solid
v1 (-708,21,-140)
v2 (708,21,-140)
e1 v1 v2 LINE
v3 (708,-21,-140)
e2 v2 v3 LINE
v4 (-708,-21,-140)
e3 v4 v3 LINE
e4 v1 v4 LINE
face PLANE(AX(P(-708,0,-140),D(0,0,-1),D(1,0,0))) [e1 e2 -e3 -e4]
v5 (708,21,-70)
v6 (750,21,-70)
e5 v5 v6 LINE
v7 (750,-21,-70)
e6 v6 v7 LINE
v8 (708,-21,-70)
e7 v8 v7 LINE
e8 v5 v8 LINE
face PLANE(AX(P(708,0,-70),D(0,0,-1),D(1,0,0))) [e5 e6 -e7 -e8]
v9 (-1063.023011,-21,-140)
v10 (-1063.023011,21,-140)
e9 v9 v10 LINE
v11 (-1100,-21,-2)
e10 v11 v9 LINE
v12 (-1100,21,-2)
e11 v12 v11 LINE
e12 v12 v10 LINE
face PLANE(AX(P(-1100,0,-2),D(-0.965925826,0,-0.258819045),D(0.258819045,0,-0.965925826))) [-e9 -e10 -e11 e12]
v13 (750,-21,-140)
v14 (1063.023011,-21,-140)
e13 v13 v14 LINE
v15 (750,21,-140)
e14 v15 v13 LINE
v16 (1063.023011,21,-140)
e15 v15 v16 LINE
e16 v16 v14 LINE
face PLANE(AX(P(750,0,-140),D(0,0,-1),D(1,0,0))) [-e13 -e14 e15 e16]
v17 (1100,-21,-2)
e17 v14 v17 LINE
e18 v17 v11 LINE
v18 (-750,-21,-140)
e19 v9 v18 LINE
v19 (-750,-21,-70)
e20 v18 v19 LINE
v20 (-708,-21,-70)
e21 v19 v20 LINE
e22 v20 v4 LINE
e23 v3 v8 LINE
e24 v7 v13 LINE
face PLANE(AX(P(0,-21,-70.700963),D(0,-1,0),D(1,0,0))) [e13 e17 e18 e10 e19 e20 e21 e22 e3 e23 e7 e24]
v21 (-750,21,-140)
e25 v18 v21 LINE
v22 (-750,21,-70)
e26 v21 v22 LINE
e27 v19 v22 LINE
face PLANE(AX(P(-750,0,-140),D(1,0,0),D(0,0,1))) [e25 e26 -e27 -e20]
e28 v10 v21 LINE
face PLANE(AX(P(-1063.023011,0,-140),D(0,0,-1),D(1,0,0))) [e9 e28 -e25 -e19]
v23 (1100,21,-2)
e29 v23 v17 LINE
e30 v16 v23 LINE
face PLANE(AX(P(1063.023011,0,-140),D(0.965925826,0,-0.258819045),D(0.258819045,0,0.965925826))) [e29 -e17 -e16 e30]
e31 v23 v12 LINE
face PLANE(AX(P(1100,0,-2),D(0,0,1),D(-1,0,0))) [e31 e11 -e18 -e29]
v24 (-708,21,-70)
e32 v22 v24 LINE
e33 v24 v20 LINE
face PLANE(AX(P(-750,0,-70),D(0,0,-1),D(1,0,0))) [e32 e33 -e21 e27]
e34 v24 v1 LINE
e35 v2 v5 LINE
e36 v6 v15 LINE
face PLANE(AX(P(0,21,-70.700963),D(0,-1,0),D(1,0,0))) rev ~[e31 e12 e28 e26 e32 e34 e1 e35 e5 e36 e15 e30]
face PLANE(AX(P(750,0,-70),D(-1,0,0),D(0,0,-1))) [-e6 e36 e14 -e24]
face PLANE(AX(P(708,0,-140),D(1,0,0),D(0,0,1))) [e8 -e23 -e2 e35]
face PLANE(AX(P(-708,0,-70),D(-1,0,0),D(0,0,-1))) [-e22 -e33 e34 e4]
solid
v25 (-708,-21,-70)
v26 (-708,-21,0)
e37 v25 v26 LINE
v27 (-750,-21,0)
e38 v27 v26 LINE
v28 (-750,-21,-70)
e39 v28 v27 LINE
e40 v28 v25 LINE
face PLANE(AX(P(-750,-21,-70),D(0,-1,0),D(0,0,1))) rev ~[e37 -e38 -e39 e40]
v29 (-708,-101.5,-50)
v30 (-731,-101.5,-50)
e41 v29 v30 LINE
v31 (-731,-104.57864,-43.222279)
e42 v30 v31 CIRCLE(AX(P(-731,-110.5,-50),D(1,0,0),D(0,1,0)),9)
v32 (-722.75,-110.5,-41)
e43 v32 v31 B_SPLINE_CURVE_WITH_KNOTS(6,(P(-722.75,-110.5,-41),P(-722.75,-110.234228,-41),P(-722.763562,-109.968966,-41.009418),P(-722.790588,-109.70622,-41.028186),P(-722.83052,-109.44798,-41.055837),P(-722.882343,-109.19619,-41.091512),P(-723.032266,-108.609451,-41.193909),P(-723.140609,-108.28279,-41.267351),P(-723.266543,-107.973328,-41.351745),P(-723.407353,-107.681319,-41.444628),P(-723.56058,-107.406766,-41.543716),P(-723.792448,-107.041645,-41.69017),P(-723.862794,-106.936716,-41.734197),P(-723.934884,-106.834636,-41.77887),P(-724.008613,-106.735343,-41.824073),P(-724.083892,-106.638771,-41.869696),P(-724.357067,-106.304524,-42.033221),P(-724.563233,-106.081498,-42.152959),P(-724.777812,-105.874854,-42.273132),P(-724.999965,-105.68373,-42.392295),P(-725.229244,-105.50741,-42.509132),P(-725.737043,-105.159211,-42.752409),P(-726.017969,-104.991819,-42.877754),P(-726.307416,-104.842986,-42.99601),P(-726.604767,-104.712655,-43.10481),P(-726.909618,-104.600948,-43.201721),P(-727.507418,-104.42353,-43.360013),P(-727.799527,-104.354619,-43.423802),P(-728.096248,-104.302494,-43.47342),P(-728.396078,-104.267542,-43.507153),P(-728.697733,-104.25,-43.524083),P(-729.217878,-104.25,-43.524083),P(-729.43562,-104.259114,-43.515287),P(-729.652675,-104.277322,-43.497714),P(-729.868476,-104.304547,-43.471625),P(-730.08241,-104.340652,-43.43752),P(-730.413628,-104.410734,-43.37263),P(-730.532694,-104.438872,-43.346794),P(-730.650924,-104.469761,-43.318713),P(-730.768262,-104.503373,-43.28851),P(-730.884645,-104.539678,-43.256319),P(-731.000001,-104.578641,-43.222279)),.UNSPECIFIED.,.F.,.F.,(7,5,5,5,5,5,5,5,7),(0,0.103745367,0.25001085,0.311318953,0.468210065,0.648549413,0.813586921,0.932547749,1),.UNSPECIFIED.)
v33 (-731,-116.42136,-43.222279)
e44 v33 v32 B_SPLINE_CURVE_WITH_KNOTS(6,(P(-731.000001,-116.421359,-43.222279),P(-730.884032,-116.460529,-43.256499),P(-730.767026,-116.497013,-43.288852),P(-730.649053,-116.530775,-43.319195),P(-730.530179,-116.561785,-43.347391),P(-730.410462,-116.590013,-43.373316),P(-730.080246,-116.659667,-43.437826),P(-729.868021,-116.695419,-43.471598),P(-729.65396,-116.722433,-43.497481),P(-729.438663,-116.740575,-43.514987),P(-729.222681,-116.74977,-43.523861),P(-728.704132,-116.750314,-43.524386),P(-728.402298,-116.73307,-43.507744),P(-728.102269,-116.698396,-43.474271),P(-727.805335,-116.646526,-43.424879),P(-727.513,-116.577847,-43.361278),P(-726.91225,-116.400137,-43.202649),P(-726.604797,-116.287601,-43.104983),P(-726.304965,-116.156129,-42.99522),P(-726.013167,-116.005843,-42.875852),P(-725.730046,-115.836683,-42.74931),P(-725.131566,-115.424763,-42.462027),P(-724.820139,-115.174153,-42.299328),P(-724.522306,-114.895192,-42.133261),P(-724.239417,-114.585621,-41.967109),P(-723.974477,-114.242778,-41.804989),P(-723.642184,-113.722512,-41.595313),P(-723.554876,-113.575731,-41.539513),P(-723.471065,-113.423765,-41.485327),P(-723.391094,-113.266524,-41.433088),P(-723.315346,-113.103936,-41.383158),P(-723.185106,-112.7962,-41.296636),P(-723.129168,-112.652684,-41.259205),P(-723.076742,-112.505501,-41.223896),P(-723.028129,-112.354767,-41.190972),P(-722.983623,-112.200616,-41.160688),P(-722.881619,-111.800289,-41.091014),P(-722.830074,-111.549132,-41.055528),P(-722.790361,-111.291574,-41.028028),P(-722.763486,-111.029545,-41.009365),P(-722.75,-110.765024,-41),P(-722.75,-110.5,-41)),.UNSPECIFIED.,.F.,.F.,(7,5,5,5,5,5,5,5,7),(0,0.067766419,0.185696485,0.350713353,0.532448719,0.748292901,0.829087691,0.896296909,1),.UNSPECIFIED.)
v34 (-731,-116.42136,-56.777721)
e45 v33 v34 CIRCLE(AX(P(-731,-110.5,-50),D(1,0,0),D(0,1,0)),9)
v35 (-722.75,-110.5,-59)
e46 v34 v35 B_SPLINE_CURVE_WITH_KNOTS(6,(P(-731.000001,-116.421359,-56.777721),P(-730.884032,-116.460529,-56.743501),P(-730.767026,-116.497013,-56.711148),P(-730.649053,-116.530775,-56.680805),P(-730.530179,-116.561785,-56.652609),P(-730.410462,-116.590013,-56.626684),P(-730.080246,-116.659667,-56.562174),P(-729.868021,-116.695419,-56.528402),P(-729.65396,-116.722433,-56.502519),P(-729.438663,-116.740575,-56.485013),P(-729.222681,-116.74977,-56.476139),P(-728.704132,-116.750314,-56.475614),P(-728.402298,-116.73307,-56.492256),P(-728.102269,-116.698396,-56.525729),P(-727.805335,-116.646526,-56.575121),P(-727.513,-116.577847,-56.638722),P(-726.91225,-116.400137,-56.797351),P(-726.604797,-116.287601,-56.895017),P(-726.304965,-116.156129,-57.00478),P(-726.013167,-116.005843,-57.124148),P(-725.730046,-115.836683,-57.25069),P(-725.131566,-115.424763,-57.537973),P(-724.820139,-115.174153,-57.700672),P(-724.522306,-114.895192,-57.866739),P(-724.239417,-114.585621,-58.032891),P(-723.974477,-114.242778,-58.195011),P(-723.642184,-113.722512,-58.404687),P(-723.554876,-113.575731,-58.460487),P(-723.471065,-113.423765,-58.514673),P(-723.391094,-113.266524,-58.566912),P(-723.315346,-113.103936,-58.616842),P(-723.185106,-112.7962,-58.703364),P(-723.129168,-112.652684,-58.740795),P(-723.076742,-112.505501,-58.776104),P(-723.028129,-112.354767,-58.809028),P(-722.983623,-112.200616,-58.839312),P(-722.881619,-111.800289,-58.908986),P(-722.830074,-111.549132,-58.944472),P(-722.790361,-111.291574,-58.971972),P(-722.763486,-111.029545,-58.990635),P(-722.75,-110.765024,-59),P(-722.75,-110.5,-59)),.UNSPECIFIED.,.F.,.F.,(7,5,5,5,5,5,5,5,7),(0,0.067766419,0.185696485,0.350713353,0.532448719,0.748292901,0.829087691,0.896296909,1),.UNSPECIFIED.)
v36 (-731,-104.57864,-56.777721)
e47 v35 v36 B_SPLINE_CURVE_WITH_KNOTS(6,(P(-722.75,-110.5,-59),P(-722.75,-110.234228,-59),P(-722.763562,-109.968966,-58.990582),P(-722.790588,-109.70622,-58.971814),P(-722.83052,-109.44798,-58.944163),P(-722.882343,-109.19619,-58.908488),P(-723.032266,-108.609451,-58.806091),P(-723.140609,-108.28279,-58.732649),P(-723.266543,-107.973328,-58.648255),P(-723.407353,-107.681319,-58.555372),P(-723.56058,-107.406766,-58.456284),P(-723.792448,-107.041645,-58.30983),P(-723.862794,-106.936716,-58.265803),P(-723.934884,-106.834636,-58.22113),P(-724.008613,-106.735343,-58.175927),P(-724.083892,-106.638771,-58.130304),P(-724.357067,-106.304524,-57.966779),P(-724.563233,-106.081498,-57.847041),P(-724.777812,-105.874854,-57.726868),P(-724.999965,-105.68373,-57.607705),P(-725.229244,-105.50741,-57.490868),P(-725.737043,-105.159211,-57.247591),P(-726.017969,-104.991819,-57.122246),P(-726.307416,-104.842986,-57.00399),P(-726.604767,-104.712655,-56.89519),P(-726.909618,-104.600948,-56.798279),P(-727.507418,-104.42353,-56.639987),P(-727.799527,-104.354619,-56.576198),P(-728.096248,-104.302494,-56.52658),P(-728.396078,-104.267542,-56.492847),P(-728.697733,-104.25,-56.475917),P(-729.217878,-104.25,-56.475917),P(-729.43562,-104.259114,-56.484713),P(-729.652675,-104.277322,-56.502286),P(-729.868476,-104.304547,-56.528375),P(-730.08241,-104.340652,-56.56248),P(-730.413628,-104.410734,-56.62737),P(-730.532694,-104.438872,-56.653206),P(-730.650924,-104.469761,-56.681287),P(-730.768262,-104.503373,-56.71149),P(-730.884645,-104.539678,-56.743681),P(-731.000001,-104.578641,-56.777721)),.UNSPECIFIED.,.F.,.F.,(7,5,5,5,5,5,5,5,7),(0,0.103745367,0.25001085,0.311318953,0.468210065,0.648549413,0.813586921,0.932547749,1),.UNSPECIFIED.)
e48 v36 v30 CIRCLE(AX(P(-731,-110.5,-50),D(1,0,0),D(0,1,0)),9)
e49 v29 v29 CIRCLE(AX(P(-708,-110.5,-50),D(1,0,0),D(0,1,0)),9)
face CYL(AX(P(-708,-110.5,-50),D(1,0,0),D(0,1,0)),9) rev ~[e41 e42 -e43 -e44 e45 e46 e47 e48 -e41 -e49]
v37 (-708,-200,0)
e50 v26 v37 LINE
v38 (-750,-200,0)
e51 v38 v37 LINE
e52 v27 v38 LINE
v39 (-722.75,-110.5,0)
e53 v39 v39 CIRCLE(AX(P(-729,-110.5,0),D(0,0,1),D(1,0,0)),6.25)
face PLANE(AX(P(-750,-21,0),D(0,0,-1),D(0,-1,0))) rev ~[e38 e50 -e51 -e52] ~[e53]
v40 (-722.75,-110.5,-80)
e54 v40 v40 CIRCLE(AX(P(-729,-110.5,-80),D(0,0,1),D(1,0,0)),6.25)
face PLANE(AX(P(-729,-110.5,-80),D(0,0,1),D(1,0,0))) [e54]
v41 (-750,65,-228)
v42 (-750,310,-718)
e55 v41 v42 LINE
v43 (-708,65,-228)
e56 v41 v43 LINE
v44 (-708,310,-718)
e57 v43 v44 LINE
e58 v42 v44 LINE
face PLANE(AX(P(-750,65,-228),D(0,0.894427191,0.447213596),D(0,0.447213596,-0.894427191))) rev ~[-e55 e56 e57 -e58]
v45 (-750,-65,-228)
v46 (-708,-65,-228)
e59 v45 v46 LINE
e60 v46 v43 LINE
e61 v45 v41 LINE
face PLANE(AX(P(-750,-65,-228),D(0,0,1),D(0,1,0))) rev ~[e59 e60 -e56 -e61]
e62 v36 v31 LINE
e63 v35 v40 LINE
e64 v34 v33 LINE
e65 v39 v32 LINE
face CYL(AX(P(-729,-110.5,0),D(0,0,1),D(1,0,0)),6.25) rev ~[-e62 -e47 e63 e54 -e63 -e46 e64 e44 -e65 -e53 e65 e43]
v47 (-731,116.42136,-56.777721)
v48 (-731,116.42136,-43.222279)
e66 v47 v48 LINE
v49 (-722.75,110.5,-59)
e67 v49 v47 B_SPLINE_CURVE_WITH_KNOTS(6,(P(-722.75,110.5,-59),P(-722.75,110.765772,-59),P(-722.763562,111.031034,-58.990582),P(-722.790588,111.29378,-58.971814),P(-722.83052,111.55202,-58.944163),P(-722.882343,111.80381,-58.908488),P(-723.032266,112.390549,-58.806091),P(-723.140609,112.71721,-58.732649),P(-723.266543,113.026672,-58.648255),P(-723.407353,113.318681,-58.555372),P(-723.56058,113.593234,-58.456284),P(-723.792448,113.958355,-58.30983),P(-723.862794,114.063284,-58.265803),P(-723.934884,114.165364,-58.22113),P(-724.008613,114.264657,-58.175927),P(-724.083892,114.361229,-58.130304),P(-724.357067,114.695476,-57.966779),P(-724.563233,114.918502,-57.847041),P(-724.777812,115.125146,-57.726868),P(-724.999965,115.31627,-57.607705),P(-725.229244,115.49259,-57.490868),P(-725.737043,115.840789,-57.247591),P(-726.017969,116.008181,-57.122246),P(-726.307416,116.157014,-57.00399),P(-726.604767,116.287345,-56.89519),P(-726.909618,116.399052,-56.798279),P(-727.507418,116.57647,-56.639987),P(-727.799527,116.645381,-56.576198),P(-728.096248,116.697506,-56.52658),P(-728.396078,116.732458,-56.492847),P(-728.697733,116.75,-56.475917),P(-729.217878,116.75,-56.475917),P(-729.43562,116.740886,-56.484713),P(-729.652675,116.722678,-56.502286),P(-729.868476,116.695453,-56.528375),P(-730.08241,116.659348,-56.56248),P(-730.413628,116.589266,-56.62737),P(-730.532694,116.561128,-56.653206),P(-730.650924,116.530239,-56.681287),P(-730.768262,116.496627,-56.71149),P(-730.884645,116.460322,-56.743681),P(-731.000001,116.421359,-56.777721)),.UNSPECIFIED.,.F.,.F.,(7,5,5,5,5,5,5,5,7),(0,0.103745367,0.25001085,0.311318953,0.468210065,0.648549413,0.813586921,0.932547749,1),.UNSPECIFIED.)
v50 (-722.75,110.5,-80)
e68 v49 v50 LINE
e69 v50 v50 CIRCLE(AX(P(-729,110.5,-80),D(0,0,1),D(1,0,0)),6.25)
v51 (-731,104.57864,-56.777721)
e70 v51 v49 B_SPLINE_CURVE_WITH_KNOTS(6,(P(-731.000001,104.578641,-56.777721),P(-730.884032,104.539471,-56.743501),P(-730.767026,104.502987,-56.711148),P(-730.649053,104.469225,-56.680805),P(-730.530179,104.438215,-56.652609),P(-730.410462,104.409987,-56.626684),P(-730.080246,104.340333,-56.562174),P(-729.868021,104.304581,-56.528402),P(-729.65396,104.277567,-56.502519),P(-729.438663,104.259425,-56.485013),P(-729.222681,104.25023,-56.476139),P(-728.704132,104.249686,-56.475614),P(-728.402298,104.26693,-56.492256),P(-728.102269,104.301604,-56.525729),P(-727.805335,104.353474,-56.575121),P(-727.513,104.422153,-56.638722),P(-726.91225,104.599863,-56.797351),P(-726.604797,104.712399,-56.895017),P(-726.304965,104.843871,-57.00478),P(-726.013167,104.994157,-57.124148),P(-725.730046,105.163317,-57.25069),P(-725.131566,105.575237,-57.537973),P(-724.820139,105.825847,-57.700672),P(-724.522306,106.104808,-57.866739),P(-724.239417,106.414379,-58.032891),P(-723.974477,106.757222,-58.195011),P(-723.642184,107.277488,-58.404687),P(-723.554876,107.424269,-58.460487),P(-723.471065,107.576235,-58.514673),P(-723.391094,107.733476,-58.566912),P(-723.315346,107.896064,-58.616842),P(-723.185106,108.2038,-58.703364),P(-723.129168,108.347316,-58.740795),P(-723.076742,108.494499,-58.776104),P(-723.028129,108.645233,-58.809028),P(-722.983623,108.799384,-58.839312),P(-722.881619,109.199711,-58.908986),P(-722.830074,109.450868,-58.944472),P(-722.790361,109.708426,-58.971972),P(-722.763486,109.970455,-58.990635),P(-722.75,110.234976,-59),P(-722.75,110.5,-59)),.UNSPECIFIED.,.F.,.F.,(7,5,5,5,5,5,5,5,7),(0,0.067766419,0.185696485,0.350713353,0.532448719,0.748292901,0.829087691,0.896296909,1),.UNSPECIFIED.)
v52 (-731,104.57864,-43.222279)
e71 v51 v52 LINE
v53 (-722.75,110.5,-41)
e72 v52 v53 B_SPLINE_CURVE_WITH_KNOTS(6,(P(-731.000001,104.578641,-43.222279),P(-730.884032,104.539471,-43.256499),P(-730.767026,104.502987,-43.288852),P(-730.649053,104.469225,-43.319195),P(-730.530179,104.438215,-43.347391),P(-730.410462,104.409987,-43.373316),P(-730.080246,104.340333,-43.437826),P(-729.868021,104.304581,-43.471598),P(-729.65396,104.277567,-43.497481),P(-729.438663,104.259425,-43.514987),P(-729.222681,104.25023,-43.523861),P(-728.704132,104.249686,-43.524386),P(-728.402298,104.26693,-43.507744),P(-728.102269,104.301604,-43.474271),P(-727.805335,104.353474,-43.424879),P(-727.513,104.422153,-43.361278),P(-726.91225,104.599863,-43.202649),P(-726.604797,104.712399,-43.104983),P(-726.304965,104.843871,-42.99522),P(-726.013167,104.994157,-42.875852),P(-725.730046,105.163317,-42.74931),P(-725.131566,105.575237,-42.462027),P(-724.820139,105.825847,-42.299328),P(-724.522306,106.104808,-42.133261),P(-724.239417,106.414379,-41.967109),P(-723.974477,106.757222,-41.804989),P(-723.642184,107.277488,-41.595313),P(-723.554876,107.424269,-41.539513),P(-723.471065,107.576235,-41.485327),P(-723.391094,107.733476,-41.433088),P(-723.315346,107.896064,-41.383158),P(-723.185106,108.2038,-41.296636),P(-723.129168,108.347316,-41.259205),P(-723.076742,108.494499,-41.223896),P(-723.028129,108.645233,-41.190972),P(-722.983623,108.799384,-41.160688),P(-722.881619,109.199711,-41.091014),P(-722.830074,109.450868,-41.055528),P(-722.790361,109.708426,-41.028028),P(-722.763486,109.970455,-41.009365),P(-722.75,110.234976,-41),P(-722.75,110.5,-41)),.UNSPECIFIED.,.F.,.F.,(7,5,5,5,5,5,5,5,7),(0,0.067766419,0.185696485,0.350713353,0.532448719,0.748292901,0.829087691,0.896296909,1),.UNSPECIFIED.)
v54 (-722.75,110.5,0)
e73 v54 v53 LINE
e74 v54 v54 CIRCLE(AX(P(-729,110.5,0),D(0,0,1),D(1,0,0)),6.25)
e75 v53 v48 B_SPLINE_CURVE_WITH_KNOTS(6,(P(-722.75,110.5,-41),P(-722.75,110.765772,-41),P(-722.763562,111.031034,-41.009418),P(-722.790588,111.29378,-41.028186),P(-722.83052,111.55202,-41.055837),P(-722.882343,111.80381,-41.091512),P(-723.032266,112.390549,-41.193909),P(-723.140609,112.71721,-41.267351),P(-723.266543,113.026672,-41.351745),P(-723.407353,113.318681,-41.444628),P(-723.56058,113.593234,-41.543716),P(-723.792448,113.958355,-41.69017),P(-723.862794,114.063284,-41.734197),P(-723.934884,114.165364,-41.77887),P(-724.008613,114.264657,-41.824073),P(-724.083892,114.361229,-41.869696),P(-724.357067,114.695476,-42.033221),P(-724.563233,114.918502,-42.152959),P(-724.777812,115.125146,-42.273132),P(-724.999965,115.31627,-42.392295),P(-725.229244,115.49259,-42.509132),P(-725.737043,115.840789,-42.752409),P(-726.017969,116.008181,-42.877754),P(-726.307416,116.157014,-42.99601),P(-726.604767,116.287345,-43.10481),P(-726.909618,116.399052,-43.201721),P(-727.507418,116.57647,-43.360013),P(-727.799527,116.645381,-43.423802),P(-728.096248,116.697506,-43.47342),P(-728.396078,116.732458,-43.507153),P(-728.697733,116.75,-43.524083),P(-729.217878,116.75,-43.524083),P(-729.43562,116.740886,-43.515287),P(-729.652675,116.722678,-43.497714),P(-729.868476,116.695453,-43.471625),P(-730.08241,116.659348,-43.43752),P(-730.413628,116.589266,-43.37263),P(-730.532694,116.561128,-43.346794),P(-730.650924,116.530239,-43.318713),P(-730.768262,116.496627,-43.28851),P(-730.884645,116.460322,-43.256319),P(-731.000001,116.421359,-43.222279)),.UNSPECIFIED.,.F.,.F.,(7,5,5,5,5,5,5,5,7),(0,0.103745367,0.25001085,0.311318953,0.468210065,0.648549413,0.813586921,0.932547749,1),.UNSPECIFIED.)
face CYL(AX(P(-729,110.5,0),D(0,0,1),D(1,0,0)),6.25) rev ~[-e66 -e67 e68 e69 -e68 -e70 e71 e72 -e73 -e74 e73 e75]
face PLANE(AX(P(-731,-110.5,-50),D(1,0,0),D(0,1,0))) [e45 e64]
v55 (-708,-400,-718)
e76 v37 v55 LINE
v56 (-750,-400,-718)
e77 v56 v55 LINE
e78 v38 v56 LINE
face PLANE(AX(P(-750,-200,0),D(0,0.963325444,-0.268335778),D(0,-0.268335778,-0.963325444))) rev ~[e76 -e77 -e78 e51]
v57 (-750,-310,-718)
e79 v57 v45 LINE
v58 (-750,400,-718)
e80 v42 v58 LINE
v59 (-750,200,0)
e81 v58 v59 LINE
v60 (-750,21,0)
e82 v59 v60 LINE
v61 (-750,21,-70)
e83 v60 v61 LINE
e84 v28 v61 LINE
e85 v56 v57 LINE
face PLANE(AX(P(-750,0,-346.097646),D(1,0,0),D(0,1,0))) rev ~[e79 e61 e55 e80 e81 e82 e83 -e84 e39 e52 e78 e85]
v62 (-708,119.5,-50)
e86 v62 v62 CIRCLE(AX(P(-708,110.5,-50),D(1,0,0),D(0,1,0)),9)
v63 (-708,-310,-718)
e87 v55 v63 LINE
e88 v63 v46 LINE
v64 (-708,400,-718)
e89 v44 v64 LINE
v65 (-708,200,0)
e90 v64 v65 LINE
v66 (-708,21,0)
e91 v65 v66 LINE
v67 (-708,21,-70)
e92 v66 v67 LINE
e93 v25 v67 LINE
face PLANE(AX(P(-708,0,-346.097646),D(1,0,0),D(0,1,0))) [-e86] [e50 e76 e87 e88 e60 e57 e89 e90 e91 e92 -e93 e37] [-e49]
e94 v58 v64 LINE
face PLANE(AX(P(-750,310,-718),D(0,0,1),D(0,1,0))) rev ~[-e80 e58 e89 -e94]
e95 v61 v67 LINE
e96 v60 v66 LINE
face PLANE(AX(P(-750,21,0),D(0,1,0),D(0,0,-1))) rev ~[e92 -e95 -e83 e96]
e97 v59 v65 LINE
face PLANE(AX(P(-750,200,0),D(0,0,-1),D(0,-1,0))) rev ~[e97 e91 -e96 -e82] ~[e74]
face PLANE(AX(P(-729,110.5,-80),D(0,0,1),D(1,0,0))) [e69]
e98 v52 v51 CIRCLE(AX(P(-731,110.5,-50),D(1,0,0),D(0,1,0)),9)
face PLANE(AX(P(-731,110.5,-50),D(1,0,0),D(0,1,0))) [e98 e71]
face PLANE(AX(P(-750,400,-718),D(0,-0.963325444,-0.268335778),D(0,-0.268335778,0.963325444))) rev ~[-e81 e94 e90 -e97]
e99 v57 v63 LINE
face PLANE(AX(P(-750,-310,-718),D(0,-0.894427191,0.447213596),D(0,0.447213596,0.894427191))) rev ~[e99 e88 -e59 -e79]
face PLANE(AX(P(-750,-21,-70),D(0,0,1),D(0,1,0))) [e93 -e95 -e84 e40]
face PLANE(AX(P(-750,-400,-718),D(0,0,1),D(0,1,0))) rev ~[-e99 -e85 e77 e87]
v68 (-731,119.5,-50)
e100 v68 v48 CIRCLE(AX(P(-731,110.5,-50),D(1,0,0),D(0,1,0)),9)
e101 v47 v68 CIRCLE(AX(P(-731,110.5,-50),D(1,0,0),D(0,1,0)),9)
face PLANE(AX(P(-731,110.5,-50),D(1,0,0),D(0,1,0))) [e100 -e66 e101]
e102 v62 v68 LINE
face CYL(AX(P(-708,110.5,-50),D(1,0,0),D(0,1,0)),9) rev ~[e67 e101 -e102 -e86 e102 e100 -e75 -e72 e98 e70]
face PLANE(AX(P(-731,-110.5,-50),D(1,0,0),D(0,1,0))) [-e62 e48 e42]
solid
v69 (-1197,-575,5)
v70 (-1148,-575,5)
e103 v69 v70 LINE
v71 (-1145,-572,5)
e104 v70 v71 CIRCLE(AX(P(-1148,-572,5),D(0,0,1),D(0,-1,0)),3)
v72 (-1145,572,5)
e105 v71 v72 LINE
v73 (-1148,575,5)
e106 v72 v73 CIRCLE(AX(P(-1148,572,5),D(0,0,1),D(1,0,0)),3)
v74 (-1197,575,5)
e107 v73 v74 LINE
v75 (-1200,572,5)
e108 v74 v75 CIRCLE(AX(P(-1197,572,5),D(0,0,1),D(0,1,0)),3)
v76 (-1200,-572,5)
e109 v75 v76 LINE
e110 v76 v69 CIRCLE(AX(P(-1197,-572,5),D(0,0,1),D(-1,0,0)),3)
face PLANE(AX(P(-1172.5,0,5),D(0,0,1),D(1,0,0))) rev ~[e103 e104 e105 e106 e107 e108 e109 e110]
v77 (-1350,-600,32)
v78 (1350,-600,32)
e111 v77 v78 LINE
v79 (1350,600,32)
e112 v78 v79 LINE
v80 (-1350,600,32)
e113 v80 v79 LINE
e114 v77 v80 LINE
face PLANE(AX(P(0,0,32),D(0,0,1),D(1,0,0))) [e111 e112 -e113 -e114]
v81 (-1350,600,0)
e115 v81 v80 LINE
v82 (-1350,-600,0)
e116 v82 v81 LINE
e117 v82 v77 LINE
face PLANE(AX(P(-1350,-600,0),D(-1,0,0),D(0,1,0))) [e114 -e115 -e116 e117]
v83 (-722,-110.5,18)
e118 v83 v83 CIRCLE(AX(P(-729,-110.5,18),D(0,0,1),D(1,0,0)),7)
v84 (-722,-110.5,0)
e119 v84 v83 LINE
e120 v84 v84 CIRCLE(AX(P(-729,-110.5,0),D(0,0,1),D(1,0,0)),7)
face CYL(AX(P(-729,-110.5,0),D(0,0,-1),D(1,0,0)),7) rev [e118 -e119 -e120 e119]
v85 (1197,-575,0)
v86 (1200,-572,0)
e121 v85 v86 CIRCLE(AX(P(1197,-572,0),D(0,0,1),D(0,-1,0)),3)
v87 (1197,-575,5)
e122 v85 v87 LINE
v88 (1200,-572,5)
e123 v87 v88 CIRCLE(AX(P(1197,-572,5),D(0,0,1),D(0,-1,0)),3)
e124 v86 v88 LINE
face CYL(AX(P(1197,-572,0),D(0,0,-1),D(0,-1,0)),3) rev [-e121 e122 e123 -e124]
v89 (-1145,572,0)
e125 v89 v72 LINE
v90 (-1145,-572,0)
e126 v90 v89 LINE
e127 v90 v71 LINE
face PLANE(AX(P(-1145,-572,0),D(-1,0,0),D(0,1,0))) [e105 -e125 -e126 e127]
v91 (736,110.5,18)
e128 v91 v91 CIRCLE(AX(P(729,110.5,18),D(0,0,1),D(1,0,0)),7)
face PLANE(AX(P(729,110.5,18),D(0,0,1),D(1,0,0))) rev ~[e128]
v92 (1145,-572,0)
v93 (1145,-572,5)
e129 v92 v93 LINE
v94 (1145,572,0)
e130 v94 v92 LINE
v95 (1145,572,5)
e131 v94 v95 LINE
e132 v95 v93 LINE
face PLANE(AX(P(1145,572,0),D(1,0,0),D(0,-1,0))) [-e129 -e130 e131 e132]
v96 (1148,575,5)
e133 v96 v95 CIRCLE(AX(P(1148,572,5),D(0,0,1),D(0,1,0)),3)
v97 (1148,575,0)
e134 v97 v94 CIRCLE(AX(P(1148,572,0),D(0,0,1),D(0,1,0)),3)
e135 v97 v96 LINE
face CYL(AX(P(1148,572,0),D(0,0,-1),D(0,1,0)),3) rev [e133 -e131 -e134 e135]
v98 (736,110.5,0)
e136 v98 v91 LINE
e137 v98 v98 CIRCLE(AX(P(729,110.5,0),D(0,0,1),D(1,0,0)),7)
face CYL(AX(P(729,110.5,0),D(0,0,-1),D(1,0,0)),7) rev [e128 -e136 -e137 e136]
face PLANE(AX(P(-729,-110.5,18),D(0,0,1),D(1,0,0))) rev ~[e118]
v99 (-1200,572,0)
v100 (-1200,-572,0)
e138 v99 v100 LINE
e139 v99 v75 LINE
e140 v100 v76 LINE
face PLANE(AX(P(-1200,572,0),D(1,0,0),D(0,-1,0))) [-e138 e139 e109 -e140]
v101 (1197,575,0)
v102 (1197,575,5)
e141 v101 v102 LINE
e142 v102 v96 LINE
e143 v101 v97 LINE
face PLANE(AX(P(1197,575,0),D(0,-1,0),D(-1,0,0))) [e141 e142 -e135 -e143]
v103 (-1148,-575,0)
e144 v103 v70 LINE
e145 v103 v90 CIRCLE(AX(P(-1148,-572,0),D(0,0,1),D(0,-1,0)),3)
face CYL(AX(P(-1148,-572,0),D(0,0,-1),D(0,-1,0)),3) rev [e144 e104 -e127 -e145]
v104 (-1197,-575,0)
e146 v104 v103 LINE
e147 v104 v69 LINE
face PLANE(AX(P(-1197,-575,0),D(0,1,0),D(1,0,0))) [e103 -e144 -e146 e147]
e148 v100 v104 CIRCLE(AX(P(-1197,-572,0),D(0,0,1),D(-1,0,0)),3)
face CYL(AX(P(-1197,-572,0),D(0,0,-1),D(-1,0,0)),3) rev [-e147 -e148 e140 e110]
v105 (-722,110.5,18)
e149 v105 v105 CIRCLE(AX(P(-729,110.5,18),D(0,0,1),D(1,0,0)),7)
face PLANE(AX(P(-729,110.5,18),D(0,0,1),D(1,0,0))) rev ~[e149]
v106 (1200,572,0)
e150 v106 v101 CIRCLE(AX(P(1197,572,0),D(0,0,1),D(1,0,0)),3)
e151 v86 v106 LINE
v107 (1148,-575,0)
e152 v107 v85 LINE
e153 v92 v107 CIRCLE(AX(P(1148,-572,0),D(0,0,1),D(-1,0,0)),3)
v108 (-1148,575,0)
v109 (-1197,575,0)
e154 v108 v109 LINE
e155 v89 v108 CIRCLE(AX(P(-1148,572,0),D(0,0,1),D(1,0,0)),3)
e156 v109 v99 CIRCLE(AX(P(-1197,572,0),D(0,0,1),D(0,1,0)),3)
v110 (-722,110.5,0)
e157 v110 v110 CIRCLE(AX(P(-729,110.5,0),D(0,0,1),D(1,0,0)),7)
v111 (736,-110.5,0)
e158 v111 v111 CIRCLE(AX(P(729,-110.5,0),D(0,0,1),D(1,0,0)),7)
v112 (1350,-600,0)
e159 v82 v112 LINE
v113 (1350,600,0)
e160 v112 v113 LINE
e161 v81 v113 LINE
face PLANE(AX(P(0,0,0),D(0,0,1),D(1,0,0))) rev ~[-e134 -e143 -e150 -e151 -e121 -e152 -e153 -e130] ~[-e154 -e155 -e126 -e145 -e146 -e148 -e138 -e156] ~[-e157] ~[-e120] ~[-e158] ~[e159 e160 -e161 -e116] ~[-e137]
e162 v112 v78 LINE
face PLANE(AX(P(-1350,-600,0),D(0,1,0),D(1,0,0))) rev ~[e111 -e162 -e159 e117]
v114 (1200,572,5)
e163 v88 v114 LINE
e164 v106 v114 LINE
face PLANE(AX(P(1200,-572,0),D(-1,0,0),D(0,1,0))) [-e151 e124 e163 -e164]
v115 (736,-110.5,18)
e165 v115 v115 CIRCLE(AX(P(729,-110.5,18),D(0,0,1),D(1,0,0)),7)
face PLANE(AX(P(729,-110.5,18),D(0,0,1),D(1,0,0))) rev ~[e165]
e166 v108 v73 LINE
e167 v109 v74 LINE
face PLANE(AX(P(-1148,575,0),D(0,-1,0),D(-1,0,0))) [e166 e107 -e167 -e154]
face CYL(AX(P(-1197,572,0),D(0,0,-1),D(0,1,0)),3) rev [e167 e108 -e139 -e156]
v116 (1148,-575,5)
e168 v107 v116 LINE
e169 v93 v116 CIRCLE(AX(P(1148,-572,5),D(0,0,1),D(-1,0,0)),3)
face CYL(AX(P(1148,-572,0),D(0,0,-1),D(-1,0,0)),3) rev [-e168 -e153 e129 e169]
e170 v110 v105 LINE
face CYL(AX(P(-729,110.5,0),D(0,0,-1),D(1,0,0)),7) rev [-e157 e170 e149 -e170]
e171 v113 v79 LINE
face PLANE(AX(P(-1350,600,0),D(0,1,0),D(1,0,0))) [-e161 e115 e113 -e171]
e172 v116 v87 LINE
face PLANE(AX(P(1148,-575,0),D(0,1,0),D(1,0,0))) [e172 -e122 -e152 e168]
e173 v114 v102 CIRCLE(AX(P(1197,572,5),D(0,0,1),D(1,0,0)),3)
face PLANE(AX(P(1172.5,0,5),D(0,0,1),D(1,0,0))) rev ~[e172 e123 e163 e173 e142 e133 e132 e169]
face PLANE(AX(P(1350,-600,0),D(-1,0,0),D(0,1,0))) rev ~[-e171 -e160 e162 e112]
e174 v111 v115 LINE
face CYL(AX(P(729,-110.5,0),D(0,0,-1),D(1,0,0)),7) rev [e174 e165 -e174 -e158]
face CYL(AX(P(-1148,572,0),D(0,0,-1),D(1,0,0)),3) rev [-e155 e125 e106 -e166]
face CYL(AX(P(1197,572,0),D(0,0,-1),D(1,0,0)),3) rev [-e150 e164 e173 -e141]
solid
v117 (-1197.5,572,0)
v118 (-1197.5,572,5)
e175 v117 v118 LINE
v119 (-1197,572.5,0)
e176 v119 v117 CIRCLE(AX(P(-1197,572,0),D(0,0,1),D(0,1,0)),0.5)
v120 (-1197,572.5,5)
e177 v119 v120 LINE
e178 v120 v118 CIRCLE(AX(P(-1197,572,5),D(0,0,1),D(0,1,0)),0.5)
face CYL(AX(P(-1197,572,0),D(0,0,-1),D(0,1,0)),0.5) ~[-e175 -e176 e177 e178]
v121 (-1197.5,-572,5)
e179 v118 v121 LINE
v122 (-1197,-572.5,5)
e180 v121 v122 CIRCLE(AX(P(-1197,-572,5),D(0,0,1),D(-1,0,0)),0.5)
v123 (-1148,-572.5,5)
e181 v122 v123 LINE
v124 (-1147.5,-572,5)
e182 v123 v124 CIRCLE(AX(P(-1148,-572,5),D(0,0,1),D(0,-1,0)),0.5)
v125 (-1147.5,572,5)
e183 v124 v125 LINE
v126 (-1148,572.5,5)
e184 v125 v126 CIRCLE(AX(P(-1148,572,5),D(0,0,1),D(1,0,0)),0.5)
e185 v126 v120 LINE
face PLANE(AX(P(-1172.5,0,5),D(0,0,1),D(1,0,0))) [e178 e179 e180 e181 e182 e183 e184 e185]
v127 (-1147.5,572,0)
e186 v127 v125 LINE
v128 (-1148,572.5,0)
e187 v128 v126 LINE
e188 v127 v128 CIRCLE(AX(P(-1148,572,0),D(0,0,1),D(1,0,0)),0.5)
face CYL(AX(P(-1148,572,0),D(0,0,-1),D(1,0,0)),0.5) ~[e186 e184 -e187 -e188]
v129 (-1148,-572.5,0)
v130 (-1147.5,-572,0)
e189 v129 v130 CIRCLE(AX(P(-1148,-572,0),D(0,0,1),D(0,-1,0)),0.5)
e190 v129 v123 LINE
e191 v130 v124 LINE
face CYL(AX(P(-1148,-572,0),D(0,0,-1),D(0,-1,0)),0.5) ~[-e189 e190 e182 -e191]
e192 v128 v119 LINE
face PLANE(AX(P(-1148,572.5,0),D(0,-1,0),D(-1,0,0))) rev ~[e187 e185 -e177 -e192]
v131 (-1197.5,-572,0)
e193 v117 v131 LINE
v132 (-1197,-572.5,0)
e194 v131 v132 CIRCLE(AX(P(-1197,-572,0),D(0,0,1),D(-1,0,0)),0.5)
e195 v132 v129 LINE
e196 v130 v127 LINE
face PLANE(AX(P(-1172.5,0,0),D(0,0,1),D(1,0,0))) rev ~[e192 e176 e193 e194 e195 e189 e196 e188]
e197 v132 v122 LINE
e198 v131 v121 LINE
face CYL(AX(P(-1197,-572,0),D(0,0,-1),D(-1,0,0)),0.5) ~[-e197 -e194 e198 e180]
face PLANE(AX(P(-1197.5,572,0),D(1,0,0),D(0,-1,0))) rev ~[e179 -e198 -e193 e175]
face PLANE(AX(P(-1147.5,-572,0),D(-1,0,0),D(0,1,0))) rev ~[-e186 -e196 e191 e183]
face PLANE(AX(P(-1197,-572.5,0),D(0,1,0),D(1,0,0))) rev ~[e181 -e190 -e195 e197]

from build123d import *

# Parameters (mm, degrees)
F0_W      = 2700
F0_H      = 1200
F1_DEPTH  = 32
F2_DEPTH  = 5
F3_DEPTH  = 5
F5_W      = 42
F5_H      = 70
F6_DEPTH  = 42
F7_R      = 7
F7_R_2    = 6.25
F8_DEPTH  = 18
F9_DEPTH  = 80
F10_R     = 9
F11_DEPTH = 23
F13_DEPTH = 21


with BuildPart() as f1:
    # F0 (on Top) → F1 (new body)
    with BuildSketch(Plane.XY):
        Rectangle(F0_W, F0_H)
        with BuildLine():
            Line((-1197, 575), (-1148, 575))
            ThreePointArc((-1148, 575), (-1145.8786796564, 574.1213203436), (-1145, 572))
            Line((-1145, 572), (-1145, -572))
            ThreePointArc((-1145, -572), (-1145.8786796564, -574.1213203436), (-1148, -575))
            Line((-1148, -575), (-1197, -575))
            ThreePointArc((-1197, -575), (-1199.1213203436, -574.1213203436), (-1200, -572))
            Line((-1200, -572), (-1200, 572))
            ThreePointArc((-1200, 572), (-1199.1213203436, 574.1213203436), (-1197, 575))
        make_face(mode=Mode.SUBTRACT)
        with BuildLine():
            Line((1197, -575), (1148, -575))
            ThreePointArc((1148, -575), (1145.8786796564, -574.1213203436), (1145, -572))
            Line((1145, -572), (1145, 572))
            ThreePointArc((1145, 572), (1145.8786796564, 574.1213203436), (1148, 575))
            Line((1148, 575), (1197, 575))
            ThreePointArc((1197, 575), (1199.1213203436, 574.1213203436), (1200, 572))
            Line((1200, 572), (1200, -572))
            ThreePointArc((1200, -572), (1199.1213203436, -574.1213203436), (1197, -575))
        make_face(mode=Mode.SUBTRACT)
        with BuildLine():
            ThreePointArc((-1145, 572), (-1145.8786796564, 574.1213203436), (-1148, 575))
            Line((-1148, 575), (-1197, 575))
            ThreePointArc((-1197, 575), (-1199.1213203436, 574.1213203436), (-1200, 572))
            Line((-1200, 572), (-1200, -572))
            ThreePointArc((-1200, -572), (-1199.1213203436, -574.1213203436), (-1197, -575))
            Line((-1197, -575), (-1148, -575))
            ThreePointArc((-1148, -575), (-1145.8786796564, -574.1213203436), (-1145, -572))
            Line((-1145, -572), (-1145, 572))
        make_face()
        with BuildLine():
            ThreePointArc((-1148, 572.5), (-1147.6464466094, 572.3535533906), (-1147.5, 572))
            Line((-1147.5, 572), (-1147.5, -572))
            ThreePointArc((-1147.5, -572), (-1147.6464466094, -572.3535533906), (-1148, -572.5))
            Line((-1148, -572.5), (-1197, -572.5))
            ThreePointArc((-1197, -572.5), (-1197.3535533906, -572.3535533906), (-1197.5, -572))
            Line((-1197.5, -572), (-1197.5, 572))
            ThreePointArc((-1197.5, 572), (-1197.3535533906, 572.3535533906), (-1197, 572.5))
            Line((-1197, 572.5), (-1148, 572.5))
        make_face(mode=Mode.SUBTRACT)
        with BuildLine():
            ThreePointArc((1145, -572), (1145.8786796564, -574.1213203436), (1148, -575))
            Line((1148, -575), (1197, -575))
            ThreePointArc((1197, -575), (1199.1213203436, -574.1213203436), (1200, -572))
            Line((1200, -572), (1200, 572))
            ThreePointArc((1200, 572), (1199.1213203436, 574.1213203436), (1197, 575))
            Line((1197, 575), (1148, 575))
            ThreePointArc((1148, 575), (1145.8786796564, 574.1213203436), (1145, 572))
            Line((1145, 572), (1145, -572))
        make_face()
        with BuildLine():
            Line((-1147.5, -572), (-1147.5, 572))
            ThreePointArc((-1147.5, 572), (-1147.6464466094, 572.3535533906), (-1148, 572.5))
            Line((-1148, 572.5), (-1197, 572.5))
            ThreePointArc((-1197, 572.5), (-1197.3535533906, 572.3535533906), (-1197.5, 572))
            Line((-1197.5, 572), (-1197.5, -572))
            ThreePointArc((-1197.5, -572), (-1197.3535533906, -572.3535533906), (-1197, -572.5))
            Line((-1197, -572.5), (-1148, -572.5))
            ThreePointArc((-1148, -572.5), (-1147.6464466094, -572.3535533906), (-1147.5, -572))
        make_face()
    extrude(amount=F1_DEPTH)

    # F0 (on Top) → F2 (cut)
    with BuildSketch(Plane.XY):
        with BuildLine():
            ThreePointArc((-1145, 572), (-1145.8786796564, 574.1213203436), (-1148, 575))
            Line((-1148, 575), (-1197, 575))
            ThreePointArc((-1197, 575), (-1199.1213203436, 574.1213203436), (-1200, 572))
            Line((-1200, 572), (-1200, -572))
            ThreePointArc((-1200, -572), (-1199.1213203436, -574.1213203436), (-1197, -575))
            Line((-1197, -575), (-1148, -575))
            ThreePointArc((-1148, -575), (-1145.8786796564, -574.1213203436), (-1145, -572))
            Line((-1145, -572), (-1145, 572))
        make_face()
        with BuildLine():
            ThreePointArc((-1148, 572.5), (-1147.6464466094, 572.3535533906), (-1147.5, 572))
            Line((-1147.5, 572), (-1147.5, -572))
            ThreePointArc((-1147.5, -572), (-1147.6464466094, -572.3535533906), (-1148, -572.5))
            Line((-1148, -572.5), (-1197, -572.5))
            ThreePointArc((-1197, -572.5), (-1197.3535533906, -572.3535533906), (-1197.5, -572))
            Line((-1197.5, -572), (-1197.5, 572))
            ThreePointArc((-1197.5, 572), (-1197.3535533906, 572.3535533906), (-1197, 572.5))
            Line((-1197, 572.5), (-1148, 572.5))
        make_face(mode=Mode.SUBTRACT)
        with BuildLine():
            ThreePointArc((1145, -572), (1145.8786796564, -574.1213203436), (1148, -575))
            Line((1148, -575), (1197, -575))
            ThreePointArc((1197, -575), (1199.1213203436, -574.1213203436), (1200, -572))
            Line((1200, -572), (1200, 572))
            ThreePointArc((1200, 572), (1199.1213203436, 574.1213203436), (1197, 575))
            Line((1197, 575), (1148, 575))
            ThreePointArc((1148, 575), (1145.8786796564, 574.1213203436), (1145, 572))
            Line((1145, 572), (1145, -572))
        make_face()
        with BuildLine():
            Line((-1147.5, -572), (-1147.5, 572))
            ThreePointArc((-1147.5, 572), (-1147.6464466094, 572.3535533906), (-1148, 572.5))
            Line((-1148, 572.5), (-1197, 572.5))
            ThreePointArc((-1197, 572.5), (-1197.3535533906, 572.3535533906), (-1197.5, 572))
            Line((-1197.5, 572), (-1197.5, -572))
            ThreePointArc((-1197.5, -572), (-1197.3535533906, -572.3535533906), (-1197, -572.5))
            Line((-1197, -572.5), (-1148, -572.5))
            ThreePointArc((-1148, -572.5), (-1147.6464466094, -572.3535533906), (-1147.5, -572))
        make_face()
    extrude(amount=F2_DEPTH, mode=Mode.SUBTRACT)

    # F7 (on face) → F8 (cut)
    with BuildSketch(Plane.XY):
        with Locations((-729, 110.5)):
            Circle(F7_R)
        with Locations((-729, 110.5)):
            Circle(F7_R_2, mode=Mode.SUBTRACT)
        with Locations((-729, 110.5)):
            Circle(F7_R_2)
        with Locations((-729, -110.5)):
            Circle(F7_R)
        with Locations((-729, -110.5)):
            Circle(F7_R_2, mode=Mode.SUBTRACT)
        with Locations((-729, -110.5)):
            Circle(F7_R_2)
        with Locations((729, -110.5)):
            Circle(F7_R)
        with Locations((729, 110.5)):
            Circle(F7_R)
    extrude(amount=F8_DEPTH, mode=Mode.SUBTRACT)


with BuildPart() as f3:
    # F0 (on Top) → F3 (new body)
    with BuildSketch(Plane.XY):
        with BuildLine():
            Line((-1147.5, -572), (-1147.5, 572))
            ThreePointArc((-1147.5, 572), (-1147.6464466094, 572.3535533906), (-1148, 572.5))
            Line((-1148, 572.5), (-1197, 572.5))
            ThreePointArc((-1197, 572.5), (-1197.3535533906, 572.3535533906), (-1197.5, 572))
            Line((-1197.5, 572), (-1197.5, -572))
            ThreePointArc((-1197.5, -572), (-1197.3535533906, -572.3535533906), (-1197, -572.5))
            Line((-1197, -572.5), (-1148, -572.5))
            ThreePointArc((-1148, -572.5), (-1147.6464466094, -572.3535533906), (-1147.5, -572))
        make_face()
    extrude(amount=F3_DEPTH)


with BuildPart() as f6:
    # F5 (on offset) → F6 (new body)
    with BuildSketch(Plane.YZ.offset(-750)):
        Polygon((-21, -70), (-21, 0), (-200, 0), (-400, -718), (-310, -718), (-65, -228), (0, -228), (65, -228), (310, -718), (400, -718), (200, 0), (21, 0), (21, -70), (21, -140), (-21, -140), align=None)
        with Locations((0, -105)):
            Rectangle(F5_W, F5_H)
    extrude(amount=F6_DEPTH)

    # F7 (on face) → F9 (cut)
    with BuildSketch(Plane.XY):
        with Locations((-729, 110.5)):
            Circle(F7_R_2)
        with Locations((-729, -110.5)):
            Circle(F7_R_2)
    extrude(amount=-F9_DEPTH, mode=Mode.SUBTRACT)

    # F10 (on face) → F11 (cut)
    with BuildSketch(Plane.YZ.offset(-708)):
        with Locations((110.5, -50)):
            Circle(F10_R)
        with Locations((-110.5, -50)):
            Circle(F10_R)
    extrude(amount=-F11_DEPTH, mode=Mode.SUBTRACT)


with BuildPart() as f13:
    # F12 (on Front) → F13 (new body, symmetric)
    with BuildSketch(Plane.XZ):
        Polygon((-750, -70), (-708, -70), (-708, -140), (0, -140), (708, -140), (708, -70), (750, -70), (750, -140), (1063.0230114445, -140), (1100, -2), (0.3708260011, -2), (-0.3708260011, -2), (-1100, -2), (-1063.0230114445, -140), (-750, -140), align=None)
    extrude(amount=F13_DEPTH, both=True)


solid = Compound([f1.part, f3.part, f6.part, f13.part])
